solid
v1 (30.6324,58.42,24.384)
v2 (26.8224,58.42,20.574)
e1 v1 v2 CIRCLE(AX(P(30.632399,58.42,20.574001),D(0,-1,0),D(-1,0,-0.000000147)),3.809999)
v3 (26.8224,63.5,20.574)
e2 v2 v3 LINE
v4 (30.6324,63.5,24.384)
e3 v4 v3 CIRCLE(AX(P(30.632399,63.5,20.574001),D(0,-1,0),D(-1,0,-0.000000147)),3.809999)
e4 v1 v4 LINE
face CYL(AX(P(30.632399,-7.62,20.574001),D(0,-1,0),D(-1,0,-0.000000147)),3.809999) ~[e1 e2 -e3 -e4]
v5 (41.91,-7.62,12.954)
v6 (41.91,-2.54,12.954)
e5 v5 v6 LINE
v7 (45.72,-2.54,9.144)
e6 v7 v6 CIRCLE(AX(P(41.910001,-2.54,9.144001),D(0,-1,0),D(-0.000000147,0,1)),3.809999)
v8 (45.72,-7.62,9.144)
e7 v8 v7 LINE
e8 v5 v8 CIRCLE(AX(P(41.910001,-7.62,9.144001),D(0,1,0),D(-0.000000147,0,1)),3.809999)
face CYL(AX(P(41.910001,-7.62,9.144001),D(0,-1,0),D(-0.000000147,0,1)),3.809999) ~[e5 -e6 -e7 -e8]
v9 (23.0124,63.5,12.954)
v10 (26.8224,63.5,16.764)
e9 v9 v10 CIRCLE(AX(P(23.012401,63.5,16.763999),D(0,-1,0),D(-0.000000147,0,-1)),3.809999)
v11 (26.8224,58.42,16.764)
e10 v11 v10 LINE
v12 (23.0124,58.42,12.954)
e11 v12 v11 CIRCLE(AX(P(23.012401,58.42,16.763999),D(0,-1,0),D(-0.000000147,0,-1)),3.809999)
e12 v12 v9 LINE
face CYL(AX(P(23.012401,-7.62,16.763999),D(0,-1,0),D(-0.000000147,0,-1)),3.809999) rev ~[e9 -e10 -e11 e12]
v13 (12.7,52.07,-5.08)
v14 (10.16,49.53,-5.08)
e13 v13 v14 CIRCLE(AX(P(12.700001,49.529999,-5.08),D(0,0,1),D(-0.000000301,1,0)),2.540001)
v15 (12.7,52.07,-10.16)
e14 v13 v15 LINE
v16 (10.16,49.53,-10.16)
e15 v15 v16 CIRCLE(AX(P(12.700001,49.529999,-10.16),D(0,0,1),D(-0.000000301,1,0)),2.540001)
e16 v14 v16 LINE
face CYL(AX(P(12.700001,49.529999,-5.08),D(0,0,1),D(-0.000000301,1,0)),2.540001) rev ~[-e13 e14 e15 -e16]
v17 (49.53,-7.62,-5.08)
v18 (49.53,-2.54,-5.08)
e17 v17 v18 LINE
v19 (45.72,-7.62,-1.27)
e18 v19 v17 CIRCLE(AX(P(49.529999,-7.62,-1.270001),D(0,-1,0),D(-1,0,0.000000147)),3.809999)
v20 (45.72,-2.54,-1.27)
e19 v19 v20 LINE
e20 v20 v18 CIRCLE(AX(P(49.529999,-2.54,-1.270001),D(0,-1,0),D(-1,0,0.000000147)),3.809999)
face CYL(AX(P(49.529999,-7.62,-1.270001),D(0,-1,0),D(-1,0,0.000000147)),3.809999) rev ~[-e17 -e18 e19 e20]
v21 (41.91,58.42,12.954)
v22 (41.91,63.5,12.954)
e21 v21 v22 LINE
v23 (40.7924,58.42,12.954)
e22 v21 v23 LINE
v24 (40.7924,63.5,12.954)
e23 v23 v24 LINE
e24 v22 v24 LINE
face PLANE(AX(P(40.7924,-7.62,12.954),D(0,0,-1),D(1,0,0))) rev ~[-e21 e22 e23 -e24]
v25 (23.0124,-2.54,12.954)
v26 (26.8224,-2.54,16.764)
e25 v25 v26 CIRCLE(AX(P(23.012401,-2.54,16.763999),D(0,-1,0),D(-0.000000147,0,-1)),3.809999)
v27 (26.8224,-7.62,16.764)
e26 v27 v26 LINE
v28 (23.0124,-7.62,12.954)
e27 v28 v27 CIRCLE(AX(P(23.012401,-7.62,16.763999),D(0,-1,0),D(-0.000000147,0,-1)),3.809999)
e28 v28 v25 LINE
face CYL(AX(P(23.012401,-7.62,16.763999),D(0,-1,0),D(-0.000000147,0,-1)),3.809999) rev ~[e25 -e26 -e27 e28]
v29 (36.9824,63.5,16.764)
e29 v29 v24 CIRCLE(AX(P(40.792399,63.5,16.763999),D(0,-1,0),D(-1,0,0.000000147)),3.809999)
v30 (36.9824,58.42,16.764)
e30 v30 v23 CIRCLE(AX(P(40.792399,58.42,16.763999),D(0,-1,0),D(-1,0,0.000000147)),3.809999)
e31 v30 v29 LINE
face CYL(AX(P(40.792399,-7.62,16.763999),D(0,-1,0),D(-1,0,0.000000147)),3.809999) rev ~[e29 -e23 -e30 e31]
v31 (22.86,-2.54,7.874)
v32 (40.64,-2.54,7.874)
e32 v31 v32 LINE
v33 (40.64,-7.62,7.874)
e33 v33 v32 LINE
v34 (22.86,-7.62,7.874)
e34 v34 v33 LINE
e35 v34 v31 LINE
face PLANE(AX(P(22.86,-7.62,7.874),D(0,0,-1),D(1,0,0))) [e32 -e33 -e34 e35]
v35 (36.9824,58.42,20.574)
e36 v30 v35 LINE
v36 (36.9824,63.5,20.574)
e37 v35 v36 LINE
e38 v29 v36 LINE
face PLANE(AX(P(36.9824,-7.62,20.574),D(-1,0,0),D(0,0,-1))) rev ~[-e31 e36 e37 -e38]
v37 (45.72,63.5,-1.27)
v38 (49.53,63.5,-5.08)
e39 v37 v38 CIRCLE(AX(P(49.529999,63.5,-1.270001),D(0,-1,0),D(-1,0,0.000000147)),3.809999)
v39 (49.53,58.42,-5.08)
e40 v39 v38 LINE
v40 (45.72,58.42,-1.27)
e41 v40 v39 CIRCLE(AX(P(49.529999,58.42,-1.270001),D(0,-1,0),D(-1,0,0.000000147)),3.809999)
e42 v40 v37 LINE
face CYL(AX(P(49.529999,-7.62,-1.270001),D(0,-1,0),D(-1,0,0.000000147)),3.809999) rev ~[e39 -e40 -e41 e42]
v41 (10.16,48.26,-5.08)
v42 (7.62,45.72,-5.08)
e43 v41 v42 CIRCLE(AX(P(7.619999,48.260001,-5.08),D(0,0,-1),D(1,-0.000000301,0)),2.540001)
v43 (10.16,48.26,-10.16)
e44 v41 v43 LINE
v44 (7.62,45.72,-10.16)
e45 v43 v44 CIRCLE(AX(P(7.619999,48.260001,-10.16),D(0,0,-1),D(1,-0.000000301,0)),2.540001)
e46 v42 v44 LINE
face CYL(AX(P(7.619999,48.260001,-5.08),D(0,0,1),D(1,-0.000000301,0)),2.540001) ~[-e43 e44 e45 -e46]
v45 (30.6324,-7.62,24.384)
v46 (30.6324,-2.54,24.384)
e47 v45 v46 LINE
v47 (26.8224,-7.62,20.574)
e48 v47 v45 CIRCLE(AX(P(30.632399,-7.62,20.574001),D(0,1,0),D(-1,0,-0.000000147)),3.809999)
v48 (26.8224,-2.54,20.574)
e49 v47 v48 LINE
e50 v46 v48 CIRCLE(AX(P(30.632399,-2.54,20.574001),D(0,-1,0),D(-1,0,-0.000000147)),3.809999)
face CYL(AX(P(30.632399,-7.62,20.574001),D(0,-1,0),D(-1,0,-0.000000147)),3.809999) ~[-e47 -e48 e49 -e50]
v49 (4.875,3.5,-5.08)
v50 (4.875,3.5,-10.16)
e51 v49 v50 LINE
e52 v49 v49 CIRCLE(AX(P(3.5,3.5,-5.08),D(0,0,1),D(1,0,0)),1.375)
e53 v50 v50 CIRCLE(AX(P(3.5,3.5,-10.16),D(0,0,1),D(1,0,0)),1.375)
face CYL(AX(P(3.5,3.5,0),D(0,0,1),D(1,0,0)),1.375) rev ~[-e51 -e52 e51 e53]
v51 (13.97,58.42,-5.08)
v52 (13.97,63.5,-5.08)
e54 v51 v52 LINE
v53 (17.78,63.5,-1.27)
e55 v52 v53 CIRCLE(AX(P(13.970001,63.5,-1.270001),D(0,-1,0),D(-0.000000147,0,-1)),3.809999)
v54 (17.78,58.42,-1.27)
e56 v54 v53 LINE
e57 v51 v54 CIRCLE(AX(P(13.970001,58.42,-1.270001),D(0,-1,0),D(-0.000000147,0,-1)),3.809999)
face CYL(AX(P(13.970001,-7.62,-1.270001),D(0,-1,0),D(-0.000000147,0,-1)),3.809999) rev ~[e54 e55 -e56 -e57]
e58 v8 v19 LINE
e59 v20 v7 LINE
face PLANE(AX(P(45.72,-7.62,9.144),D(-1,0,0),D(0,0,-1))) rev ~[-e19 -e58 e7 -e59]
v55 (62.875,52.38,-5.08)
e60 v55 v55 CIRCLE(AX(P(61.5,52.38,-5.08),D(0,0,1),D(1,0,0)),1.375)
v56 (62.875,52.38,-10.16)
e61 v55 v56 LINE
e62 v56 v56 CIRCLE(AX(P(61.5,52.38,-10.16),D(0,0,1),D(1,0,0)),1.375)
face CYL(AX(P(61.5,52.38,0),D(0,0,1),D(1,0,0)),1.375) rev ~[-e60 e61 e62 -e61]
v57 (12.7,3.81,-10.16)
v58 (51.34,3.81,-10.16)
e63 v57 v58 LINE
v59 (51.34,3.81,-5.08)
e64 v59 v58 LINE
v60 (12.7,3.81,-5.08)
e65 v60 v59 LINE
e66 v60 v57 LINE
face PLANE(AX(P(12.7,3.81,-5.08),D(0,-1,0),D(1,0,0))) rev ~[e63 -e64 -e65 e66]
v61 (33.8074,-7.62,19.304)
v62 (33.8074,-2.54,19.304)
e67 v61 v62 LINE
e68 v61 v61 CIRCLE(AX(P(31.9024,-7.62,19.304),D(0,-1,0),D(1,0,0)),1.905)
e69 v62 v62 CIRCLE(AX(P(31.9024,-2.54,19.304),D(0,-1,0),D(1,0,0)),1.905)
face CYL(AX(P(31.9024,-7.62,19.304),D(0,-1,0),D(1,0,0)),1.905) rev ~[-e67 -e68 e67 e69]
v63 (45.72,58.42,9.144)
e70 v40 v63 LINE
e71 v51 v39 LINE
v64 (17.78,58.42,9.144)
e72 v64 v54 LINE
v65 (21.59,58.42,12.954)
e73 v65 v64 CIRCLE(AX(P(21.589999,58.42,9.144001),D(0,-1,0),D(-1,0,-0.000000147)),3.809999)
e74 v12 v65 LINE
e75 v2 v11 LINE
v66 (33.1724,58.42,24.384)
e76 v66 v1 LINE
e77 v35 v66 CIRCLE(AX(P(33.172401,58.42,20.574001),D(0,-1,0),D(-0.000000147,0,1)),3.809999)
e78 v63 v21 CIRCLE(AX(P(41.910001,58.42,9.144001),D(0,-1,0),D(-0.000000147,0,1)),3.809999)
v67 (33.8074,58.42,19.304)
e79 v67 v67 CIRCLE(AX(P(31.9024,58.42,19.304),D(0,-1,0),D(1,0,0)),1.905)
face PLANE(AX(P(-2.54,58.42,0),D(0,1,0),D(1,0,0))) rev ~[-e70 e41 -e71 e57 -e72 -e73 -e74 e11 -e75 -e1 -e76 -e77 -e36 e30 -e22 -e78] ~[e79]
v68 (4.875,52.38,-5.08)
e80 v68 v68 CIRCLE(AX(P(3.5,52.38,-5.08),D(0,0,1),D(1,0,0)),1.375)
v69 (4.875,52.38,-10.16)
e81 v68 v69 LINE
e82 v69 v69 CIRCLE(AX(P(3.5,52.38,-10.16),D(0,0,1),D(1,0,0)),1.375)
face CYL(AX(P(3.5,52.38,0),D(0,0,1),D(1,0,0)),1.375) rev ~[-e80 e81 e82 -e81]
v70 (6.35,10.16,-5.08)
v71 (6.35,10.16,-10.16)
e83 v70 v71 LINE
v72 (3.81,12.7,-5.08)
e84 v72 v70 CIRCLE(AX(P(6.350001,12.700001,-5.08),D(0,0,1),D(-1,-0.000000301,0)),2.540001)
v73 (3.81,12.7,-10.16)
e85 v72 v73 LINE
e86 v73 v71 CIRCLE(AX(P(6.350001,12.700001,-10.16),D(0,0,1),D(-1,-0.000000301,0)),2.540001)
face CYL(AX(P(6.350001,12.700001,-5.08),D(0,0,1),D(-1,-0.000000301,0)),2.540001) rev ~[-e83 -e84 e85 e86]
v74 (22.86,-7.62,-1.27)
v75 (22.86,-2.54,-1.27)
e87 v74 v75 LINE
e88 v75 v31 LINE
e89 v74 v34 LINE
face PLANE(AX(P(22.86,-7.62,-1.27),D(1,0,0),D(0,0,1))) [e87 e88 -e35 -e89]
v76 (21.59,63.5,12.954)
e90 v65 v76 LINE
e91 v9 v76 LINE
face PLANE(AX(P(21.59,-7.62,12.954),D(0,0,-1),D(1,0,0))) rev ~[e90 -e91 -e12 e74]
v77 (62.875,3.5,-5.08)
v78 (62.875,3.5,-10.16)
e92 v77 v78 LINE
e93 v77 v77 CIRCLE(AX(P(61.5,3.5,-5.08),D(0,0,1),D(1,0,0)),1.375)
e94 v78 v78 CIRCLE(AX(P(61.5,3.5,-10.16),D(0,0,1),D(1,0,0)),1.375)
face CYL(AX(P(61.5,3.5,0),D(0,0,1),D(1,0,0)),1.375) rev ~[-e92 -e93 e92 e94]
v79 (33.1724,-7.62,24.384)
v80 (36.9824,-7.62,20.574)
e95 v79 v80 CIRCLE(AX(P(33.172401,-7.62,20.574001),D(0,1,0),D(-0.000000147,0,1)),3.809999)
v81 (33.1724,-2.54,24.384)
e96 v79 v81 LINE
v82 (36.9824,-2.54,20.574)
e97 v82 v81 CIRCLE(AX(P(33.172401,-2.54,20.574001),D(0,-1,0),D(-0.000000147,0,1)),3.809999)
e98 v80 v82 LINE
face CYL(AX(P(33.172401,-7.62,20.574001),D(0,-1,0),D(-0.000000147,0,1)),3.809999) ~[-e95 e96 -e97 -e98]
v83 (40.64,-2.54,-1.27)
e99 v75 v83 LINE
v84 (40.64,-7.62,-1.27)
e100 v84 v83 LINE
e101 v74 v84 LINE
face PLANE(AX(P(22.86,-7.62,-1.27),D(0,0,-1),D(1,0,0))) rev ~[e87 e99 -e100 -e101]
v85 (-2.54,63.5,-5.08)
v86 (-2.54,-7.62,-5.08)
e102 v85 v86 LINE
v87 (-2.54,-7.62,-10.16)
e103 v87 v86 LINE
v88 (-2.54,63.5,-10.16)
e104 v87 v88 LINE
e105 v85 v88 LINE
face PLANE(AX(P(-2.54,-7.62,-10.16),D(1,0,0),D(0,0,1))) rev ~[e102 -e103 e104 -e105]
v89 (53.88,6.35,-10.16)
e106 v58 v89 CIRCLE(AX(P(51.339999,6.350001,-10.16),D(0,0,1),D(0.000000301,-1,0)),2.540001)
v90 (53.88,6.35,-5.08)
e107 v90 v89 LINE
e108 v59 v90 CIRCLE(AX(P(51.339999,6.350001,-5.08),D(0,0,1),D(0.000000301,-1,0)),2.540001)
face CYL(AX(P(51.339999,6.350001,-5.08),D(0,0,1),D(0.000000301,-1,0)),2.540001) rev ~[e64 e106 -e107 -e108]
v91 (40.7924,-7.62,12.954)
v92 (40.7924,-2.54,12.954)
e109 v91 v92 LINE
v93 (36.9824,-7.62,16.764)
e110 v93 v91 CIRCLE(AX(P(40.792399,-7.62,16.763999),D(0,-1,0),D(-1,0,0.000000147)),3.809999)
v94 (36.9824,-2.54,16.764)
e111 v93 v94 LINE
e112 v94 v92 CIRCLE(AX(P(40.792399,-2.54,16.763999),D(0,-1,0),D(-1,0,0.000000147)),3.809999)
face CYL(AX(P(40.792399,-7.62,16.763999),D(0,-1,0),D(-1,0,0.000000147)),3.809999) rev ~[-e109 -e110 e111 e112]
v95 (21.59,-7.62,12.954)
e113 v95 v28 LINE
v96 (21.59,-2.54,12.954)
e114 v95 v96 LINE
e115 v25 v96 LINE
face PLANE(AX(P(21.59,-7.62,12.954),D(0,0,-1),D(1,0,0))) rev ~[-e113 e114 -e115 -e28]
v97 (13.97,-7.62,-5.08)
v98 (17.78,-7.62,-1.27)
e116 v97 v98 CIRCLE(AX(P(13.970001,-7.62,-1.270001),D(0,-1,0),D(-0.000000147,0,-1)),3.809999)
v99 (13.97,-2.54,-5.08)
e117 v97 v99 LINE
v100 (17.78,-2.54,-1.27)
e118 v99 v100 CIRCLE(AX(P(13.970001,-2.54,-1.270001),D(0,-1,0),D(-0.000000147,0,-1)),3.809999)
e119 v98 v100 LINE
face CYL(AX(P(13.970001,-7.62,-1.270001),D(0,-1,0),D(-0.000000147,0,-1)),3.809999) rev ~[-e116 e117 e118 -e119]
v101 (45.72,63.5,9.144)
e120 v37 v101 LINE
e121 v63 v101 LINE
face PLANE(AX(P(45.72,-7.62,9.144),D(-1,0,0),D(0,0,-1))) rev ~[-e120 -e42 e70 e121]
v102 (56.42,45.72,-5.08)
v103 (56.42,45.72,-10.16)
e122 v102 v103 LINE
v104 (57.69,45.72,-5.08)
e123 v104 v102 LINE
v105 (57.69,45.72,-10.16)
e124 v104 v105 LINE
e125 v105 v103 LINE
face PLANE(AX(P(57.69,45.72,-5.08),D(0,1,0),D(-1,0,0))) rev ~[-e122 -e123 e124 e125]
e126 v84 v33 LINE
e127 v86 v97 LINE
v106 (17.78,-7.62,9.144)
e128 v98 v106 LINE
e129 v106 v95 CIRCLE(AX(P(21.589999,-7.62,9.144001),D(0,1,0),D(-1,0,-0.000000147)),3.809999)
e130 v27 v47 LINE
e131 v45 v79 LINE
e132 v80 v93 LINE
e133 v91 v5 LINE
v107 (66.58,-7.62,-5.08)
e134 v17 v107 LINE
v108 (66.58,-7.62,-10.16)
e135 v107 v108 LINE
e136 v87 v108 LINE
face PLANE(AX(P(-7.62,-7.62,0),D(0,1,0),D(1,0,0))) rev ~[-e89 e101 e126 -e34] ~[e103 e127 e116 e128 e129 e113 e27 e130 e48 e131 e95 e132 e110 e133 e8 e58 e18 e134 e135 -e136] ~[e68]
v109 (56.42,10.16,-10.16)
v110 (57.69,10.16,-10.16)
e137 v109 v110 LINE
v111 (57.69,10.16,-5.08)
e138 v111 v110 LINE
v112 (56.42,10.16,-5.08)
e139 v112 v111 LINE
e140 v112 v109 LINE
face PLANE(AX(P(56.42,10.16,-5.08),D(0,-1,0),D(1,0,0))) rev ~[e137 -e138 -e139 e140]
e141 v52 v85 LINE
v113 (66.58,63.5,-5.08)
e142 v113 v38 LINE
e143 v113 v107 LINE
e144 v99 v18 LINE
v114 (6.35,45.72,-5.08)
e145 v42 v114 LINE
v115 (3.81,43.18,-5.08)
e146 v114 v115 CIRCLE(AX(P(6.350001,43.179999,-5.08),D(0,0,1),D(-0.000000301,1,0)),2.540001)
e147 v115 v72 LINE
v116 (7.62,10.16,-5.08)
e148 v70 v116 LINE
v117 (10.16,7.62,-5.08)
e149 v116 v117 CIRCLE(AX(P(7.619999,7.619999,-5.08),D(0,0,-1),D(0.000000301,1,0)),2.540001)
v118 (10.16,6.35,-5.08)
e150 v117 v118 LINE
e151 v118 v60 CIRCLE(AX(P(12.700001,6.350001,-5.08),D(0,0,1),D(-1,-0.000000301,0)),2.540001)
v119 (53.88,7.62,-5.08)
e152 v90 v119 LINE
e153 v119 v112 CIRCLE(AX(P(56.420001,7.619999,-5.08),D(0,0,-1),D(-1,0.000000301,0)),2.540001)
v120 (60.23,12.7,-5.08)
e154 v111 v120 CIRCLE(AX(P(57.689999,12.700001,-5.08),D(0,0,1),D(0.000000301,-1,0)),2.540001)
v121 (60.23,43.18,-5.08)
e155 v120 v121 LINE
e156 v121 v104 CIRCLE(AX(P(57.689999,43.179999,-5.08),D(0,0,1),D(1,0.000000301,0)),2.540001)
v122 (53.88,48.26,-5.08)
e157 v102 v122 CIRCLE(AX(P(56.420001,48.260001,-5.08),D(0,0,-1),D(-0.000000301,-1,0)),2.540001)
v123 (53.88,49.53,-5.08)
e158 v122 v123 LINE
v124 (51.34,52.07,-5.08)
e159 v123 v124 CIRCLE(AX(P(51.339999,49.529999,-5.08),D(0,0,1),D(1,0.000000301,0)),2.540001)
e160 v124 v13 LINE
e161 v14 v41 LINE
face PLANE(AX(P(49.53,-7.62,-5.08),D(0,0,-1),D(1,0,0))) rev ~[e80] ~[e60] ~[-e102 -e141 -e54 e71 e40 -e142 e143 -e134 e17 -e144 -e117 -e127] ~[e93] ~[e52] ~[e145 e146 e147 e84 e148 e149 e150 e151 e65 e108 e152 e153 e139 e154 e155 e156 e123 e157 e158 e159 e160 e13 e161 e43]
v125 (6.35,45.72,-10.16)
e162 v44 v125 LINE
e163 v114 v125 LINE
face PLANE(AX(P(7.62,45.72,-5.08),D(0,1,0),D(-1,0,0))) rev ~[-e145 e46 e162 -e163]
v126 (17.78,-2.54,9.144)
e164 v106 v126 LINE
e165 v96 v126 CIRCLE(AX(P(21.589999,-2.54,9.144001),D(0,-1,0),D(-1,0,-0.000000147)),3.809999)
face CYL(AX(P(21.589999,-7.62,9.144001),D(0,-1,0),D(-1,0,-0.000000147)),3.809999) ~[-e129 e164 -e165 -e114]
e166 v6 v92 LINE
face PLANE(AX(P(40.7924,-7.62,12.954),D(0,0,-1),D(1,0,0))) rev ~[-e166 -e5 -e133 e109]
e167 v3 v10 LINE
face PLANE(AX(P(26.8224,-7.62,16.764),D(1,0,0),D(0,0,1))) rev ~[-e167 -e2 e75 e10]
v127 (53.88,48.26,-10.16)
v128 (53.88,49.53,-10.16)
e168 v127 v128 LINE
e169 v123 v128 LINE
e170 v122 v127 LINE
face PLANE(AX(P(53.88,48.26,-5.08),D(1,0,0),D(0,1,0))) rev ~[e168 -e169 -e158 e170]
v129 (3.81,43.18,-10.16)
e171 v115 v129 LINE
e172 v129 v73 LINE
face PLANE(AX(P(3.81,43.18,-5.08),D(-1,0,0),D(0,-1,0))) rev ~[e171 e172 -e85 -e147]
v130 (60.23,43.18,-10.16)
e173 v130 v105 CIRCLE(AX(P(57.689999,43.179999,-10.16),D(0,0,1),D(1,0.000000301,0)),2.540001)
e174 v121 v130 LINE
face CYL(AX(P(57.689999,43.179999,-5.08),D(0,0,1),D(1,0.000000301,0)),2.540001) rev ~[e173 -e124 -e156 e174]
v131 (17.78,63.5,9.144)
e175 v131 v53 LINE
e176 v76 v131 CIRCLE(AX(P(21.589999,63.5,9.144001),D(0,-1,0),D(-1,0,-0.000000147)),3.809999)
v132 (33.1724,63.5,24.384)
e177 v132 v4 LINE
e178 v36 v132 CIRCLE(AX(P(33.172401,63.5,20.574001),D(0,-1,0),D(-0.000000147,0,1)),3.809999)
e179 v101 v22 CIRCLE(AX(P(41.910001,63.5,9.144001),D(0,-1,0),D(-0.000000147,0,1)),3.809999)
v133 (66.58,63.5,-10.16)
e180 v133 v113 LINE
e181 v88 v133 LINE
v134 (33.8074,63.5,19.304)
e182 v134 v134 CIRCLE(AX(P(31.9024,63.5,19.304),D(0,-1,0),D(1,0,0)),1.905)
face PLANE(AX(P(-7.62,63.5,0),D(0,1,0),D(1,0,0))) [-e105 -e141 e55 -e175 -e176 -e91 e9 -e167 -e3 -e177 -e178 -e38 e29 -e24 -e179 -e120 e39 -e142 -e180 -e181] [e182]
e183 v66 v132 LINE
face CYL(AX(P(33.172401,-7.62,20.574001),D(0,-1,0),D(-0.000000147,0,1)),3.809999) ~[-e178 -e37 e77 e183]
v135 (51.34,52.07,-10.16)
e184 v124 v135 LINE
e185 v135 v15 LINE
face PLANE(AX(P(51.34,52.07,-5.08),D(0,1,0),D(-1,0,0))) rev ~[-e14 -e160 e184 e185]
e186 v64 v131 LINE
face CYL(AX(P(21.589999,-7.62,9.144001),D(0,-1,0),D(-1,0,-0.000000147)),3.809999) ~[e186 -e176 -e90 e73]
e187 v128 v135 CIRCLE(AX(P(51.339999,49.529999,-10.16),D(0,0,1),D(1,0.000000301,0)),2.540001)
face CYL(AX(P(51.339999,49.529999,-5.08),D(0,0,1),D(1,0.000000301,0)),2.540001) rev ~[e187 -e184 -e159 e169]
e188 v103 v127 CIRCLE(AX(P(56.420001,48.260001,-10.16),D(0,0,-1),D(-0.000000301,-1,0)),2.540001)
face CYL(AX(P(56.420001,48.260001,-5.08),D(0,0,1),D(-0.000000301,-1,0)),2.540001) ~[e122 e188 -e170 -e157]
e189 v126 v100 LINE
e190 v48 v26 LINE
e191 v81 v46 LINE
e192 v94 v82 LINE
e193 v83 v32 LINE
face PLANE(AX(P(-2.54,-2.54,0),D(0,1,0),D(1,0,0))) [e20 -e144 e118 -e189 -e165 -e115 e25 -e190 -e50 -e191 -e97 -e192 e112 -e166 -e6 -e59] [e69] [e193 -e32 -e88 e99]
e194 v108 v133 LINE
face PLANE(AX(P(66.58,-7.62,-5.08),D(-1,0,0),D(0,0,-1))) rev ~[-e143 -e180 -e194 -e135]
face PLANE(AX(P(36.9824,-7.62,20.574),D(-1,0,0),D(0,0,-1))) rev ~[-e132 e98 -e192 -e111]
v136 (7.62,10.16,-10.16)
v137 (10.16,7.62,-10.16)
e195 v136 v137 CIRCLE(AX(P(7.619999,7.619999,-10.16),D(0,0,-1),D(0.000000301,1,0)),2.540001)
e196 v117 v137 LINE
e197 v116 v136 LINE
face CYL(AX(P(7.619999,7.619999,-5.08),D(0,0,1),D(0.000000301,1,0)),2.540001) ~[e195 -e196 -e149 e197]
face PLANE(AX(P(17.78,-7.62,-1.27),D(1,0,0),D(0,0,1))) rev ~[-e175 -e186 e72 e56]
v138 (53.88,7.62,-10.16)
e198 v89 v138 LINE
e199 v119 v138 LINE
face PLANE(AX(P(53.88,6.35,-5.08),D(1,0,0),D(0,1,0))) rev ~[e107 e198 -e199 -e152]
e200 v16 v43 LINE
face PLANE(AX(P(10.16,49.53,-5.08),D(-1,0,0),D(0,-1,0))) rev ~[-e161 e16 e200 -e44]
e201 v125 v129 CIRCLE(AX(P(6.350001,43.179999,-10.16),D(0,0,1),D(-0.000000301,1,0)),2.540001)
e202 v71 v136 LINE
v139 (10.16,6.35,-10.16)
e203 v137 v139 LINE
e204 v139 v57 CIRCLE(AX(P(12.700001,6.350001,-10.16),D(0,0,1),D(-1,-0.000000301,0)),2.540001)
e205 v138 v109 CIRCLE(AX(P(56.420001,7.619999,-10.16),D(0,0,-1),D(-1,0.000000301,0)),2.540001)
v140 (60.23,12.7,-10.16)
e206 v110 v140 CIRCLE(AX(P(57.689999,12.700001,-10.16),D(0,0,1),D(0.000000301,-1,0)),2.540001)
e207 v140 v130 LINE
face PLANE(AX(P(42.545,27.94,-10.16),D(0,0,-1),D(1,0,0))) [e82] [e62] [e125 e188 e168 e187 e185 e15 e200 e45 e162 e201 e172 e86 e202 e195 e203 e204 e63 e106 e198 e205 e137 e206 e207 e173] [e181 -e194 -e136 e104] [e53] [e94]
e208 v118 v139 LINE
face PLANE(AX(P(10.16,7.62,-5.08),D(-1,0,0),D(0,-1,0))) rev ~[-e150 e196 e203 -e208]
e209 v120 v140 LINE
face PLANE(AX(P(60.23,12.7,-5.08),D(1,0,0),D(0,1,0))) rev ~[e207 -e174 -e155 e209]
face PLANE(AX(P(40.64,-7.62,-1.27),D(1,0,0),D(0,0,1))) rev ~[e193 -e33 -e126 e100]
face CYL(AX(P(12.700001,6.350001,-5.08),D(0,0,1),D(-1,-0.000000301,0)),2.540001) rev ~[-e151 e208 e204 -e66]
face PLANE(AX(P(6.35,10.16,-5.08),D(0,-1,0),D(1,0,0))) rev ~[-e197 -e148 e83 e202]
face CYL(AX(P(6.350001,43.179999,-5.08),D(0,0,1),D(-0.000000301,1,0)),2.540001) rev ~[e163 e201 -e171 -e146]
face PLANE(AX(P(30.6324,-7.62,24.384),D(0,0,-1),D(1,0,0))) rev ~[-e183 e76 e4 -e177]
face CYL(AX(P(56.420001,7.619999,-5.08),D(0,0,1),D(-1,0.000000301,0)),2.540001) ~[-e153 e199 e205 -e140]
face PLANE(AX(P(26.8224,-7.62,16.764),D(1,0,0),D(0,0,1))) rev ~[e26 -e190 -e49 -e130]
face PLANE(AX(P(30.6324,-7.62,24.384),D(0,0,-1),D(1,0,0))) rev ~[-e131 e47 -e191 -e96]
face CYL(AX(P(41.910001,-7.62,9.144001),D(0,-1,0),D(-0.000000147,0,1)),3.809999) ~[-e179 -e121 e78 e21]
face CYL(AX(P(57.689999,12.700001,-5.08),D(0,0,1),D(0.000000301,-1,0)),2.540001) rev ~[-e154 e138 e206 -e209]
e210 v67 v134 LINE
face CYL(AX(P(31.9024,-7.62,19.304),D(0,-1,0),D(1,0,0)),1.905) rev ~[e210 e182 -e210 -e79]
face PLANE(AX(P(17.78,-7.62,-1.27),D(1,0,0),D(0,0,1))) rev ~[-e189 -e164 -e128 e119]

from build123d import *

# Parameters (mm, degrees)
F0_W      = 100.33
F0_H      = 71.12
F0_W_2    = 90.17
F0_H_2    = 60.96
F1_DEPTH  = 5.08
F2_W      = 100.33
F2_H      = 71.12
F3_DEPTH  = 5.08
F0_R      = 1.375
F4_DEPTH  = 25.4
F5_R      = 3.1
F5_R_2    = 1.375
F6_DEPTH  = 3.556
F7_DEPTH  = 37.592
F8_W      = 13.716
F8_H      = 3.556
F9_DEPTH  = 5.08
F10_W     = 10.668
F10_H     = 5.715
F10_W_2   = 17.78
F10_H_2   = 9.144
F10_W_3   = 9.398
F10_H_3   = 8.89
F11_DEPTH = 5.08
F12_W     = 53.8226
F12_H     = 18.161
F13_DEPTH = 5.08
F14_R     = 1.905
F15_DEPTH = 71.121
F17_DEPTH = 71.121
F19_DEPTH = 5.08


with BuildPart() as f1:
    # F0 (on Top) → F1 (new body)
    with BuildSketch(Plane.XY):
        with Locations((42.545, 27.94)):
            Rectangle(F0_W, F0_H)
        with Locations((42.545, 27.94)):
            Rectangle(F0_W_2, F0_H_2, mode=Mode.SUBTRACT)
    extrude(amount=-F1_DEPTH)

    # F2 (on face) → F3 (join)
    with BuildSketch(Plane(origin=(0, 0, -5.08), x_dir=(1, 0, 0), z_dir=(0, 0, -1))):
        with Locations((42.545, -27.94)):
            Rectangle(F2_W, F2_H)
    extrude(amount=F3_DEPTH)

    # F0 (on Top) → F4 (cut)
    with BuildSketch(Plane.XY):
        with Locations((3.5, 52.38)):
            Circle(F0_R)
        with Locations((61.5, 52.38)):
            Circle(F0_R)
        with Locations((61.5, 3.5)):
            Circle(F0_R)
        with Locations((3.5, 3.5)):
            Circle(F0_R)
    extrude(amount=-F4_DEPTH, mode=Mode.SUBTRACT)

    # F5 (on face) → F6 (join)
    with BuildSketch(Plane.XY.offset(-5.08)):
        with Locations((3.5, 52.38)):
            Circle(F5_R)
        with Locations((3.5, 52.38)):
            Circle(F5_R_2, mode=Mode.SUBTRACT)
        with Locations((61.5, 52.38)):
            Circle(F5_R)
        with Locations((61.5, 52.38)):
            Circle(F5_R_2, mode=Mode.SUBTRACT)
        with Locations((61.5, 3.5)):
            Circle(F5_R)
        with Locations((61.5, 3.5)):
            Circle(F5_R_2, mode=Mode.SUBTRACT)
        with Locations((3.5, 3.5)):
            Circle(F5_R)
        with Locations((3.5, 3.5)):
            Circle(F5_R_2, mode=Mode.SUBTRACT)
    extrude(amount=F6_DEPTH)

    # F0 (on Top) → F7 (join)
    with BuildSketch(Plane.XY):
        with Locations((42.545, 27.94)):
            Rectangle(F0_W, F0_H)
        with Locations((42.545, 27.94)):
            Rectangle(F0_W_2, F0_H_2, mode=Mode.SUBTRACT)
    extrude(amount=F7_DEPTH)

    # F8 (on face) → F9 (cut, through all)
    with BuildSketch(Plane(origin=(-7.62, 0, 0), x_dir=(0, -1, 0), z_dir=(-1, 0, 0))):
        with Locations((-27.94, -2.032)):
            Rectangle(F8_W, F8_H)
    extrude(amount=-F9_DEPTH, mode=Mode.SUBTRACT)

    # F10 (on face) → F11 (cut, through all)
    with BuildSketch(Plane.XZ.offset(7.62)):
        with Locations((10.922, 1.5875)):
            Rectangle(F10_W, F10_H)
        with Locations((31.75, 3.302)):
            Rectangle(F10_W_2, F10_H_2)
        with Locations((53.594, 3.175)):
            Rectangle(F10_W_3, F10_H_3)
    extrude(amount=-F11_DEPTH, mode=Mode.SUBTRACT)

    # F12 (on face) → F13 (cut, through all)
    with BuildSketch(Plane.YZ.offset(92.71)):
        with Locations((28.8163, 7.8105)):
            Rectangle(F12_W, F12_H)
    extrude(amount=-F13_DEPTH, mode=Mode.SUBTRACT)

    # F14 (on face) → F15 (cut, through all)
    with BuildSketch(Plane.XZ.offset(7.62)):
        with Locations((31.9024, 19.304)):
            Circle(F14_R)
    extrude(amount=-F15_DEPTH, mode=Mode.SUBTRACT)

    # F16 (on face) → F17 (cut, through all)
    with BuildSketch(Plane.XZ.offset(7.62)):
        with BuildLine():
            Line((66.58, -5.08), (66.58, -10.16))
            Line((66.58, -10.16), (92.71, -10.16))
            Line((92.71, -10.16), (92.71, 37.592))
            Line((92.71, 37.592), (-7.62, 37.592))
            Line((-7.62, 37.592), (-7.62, -10.16))
            Line((-7.62, -10.16), (-2.54, -10.16))
            Line((-2.54, -10.16), (-2.54, -5.08))
            Line((-2.54, -5.08), (13.97, -5.08))
            ThreePointArc((13.97, -5.08), (16.664077, -3.964077), (17.78, -1.27))
            Line((17.78, -1.27), (17.78, 9.144))
            ThreePointArc((17.78, 9.144), (18.895923, 11.838077), (21.59, 12.954))
            Line((21.59, 12.954), (23.0124, 12.954))
            ThreePointArc((23.0124, 12.954), (25.706477, 14.069923), (26.8224, 16.764))
            Line((26.8224, 16.764), (26.8224, 20.574))
            ThreePointArc((26.8224, 20.574), (27.938323, 23.268077), (30.6324, 24.384))
            Line((30.6324, 24.384), (33.1724, 24.384))
            ThreePointArc((33.1724, 24.384), (35.866477, 23.268077), (36.9824, 20.574))
            Line((36.9824, 20.574), (36.9824, 16.764))
            ThreePointArc((36.9824, 16.764), (38.098323, 14.069923), (40.7924, 12.954))
            Line((40.7924, 12.954), (41.91, 12.954))
            ThreePointArc((41.91, 12.954), (44.604077, 11.838077), (45.72, 9.144))
            Line((45.72, 9.144), (45.72, -1.27))
            ThreePointArc((45.72, -1.27), (46.835923, -3.964077), (49.53, -5.08))
            Line((49.53, -5.08), (66.58, -5.08))
        make_face()
    extrude(amount=-F17_DEPTH, mode=Mode.SUBTRACT)

    # F18 (on face) → F19 (cut, through all)
    with BuildSketch(Plane.XY.offset(-5.08)):
        with BuildLine():
            Line((56.42, 10.16), (57.69, 10.16))
            ThreePointArc((57.69, 10.16), (59.486051, 10.903949), (60.23, 12.7))
            Line((60.23, 12.7), (60.23, 43.18))
            ThreePointArc((60.23, 43.18), (59.486051, 44.976051), (57.69, 45.72))
            Line((57.69, 45.72), (56.42, 45.72))
            ThreePointArc((56.42, 45.72), (54.623949, 46.463949), (53.88, 48.26))
            Line((53.88, 48.26), (53.88, 49.53))
            ThreePointArc((53.88, 49.53), (53.136051, 51.326051), (51.34, 52.07))
            Line((51.34, 52.07), (12.7, 52.07))
            ThreePointArc((12.7, 52.07), (10.903949, 51.326051), (10.16, 49.53))
            Line((10.16, 49.53), (10.16, 48.26))
            ThreePointArc((10.16, 48.26), (9.416051, 46.463949), (7.62, 45.72))
            Line((7.62, 45.72), (6.35, 45.72))
            ThreePointArc((6.35, 45.72), (4.553949, 44.976051), (3.81, 43.18))
            Line((3.81, 43.18), (3.81, 12.7))
            ThreePointArc((3.81, 12.7), (4.553949, 10.903949), (6.35, 10.16))
            Line((6.35, 10.16), (7.62, 10.16))
            ThreePointArc((7.62, 10.16), (9.416051, 9.416051), (10.16, 7.62))
            Line((10.16, 7.62), (10.16, 6.35))
            ThreePointArc((10.16, 6.35), (10.903949, 4.553949), (12.7, 3.81))
            Line((12.7, 3.81), (51.34, 3.81))
            ThreePointArc((51.34, 3.81), (53.136051, 4.553949), (53.88, 6.35))
            Line((53.88, 6.35), (53.88, 7.62))
            ThreePointArc((53.88, 7.62), (54.623949, 9.416051), (56.42, 10.16))
        make_face()
    extrude(amount=-F19_DEPTH, mode=Mode.SUBTRACT)


solid = f1.part
